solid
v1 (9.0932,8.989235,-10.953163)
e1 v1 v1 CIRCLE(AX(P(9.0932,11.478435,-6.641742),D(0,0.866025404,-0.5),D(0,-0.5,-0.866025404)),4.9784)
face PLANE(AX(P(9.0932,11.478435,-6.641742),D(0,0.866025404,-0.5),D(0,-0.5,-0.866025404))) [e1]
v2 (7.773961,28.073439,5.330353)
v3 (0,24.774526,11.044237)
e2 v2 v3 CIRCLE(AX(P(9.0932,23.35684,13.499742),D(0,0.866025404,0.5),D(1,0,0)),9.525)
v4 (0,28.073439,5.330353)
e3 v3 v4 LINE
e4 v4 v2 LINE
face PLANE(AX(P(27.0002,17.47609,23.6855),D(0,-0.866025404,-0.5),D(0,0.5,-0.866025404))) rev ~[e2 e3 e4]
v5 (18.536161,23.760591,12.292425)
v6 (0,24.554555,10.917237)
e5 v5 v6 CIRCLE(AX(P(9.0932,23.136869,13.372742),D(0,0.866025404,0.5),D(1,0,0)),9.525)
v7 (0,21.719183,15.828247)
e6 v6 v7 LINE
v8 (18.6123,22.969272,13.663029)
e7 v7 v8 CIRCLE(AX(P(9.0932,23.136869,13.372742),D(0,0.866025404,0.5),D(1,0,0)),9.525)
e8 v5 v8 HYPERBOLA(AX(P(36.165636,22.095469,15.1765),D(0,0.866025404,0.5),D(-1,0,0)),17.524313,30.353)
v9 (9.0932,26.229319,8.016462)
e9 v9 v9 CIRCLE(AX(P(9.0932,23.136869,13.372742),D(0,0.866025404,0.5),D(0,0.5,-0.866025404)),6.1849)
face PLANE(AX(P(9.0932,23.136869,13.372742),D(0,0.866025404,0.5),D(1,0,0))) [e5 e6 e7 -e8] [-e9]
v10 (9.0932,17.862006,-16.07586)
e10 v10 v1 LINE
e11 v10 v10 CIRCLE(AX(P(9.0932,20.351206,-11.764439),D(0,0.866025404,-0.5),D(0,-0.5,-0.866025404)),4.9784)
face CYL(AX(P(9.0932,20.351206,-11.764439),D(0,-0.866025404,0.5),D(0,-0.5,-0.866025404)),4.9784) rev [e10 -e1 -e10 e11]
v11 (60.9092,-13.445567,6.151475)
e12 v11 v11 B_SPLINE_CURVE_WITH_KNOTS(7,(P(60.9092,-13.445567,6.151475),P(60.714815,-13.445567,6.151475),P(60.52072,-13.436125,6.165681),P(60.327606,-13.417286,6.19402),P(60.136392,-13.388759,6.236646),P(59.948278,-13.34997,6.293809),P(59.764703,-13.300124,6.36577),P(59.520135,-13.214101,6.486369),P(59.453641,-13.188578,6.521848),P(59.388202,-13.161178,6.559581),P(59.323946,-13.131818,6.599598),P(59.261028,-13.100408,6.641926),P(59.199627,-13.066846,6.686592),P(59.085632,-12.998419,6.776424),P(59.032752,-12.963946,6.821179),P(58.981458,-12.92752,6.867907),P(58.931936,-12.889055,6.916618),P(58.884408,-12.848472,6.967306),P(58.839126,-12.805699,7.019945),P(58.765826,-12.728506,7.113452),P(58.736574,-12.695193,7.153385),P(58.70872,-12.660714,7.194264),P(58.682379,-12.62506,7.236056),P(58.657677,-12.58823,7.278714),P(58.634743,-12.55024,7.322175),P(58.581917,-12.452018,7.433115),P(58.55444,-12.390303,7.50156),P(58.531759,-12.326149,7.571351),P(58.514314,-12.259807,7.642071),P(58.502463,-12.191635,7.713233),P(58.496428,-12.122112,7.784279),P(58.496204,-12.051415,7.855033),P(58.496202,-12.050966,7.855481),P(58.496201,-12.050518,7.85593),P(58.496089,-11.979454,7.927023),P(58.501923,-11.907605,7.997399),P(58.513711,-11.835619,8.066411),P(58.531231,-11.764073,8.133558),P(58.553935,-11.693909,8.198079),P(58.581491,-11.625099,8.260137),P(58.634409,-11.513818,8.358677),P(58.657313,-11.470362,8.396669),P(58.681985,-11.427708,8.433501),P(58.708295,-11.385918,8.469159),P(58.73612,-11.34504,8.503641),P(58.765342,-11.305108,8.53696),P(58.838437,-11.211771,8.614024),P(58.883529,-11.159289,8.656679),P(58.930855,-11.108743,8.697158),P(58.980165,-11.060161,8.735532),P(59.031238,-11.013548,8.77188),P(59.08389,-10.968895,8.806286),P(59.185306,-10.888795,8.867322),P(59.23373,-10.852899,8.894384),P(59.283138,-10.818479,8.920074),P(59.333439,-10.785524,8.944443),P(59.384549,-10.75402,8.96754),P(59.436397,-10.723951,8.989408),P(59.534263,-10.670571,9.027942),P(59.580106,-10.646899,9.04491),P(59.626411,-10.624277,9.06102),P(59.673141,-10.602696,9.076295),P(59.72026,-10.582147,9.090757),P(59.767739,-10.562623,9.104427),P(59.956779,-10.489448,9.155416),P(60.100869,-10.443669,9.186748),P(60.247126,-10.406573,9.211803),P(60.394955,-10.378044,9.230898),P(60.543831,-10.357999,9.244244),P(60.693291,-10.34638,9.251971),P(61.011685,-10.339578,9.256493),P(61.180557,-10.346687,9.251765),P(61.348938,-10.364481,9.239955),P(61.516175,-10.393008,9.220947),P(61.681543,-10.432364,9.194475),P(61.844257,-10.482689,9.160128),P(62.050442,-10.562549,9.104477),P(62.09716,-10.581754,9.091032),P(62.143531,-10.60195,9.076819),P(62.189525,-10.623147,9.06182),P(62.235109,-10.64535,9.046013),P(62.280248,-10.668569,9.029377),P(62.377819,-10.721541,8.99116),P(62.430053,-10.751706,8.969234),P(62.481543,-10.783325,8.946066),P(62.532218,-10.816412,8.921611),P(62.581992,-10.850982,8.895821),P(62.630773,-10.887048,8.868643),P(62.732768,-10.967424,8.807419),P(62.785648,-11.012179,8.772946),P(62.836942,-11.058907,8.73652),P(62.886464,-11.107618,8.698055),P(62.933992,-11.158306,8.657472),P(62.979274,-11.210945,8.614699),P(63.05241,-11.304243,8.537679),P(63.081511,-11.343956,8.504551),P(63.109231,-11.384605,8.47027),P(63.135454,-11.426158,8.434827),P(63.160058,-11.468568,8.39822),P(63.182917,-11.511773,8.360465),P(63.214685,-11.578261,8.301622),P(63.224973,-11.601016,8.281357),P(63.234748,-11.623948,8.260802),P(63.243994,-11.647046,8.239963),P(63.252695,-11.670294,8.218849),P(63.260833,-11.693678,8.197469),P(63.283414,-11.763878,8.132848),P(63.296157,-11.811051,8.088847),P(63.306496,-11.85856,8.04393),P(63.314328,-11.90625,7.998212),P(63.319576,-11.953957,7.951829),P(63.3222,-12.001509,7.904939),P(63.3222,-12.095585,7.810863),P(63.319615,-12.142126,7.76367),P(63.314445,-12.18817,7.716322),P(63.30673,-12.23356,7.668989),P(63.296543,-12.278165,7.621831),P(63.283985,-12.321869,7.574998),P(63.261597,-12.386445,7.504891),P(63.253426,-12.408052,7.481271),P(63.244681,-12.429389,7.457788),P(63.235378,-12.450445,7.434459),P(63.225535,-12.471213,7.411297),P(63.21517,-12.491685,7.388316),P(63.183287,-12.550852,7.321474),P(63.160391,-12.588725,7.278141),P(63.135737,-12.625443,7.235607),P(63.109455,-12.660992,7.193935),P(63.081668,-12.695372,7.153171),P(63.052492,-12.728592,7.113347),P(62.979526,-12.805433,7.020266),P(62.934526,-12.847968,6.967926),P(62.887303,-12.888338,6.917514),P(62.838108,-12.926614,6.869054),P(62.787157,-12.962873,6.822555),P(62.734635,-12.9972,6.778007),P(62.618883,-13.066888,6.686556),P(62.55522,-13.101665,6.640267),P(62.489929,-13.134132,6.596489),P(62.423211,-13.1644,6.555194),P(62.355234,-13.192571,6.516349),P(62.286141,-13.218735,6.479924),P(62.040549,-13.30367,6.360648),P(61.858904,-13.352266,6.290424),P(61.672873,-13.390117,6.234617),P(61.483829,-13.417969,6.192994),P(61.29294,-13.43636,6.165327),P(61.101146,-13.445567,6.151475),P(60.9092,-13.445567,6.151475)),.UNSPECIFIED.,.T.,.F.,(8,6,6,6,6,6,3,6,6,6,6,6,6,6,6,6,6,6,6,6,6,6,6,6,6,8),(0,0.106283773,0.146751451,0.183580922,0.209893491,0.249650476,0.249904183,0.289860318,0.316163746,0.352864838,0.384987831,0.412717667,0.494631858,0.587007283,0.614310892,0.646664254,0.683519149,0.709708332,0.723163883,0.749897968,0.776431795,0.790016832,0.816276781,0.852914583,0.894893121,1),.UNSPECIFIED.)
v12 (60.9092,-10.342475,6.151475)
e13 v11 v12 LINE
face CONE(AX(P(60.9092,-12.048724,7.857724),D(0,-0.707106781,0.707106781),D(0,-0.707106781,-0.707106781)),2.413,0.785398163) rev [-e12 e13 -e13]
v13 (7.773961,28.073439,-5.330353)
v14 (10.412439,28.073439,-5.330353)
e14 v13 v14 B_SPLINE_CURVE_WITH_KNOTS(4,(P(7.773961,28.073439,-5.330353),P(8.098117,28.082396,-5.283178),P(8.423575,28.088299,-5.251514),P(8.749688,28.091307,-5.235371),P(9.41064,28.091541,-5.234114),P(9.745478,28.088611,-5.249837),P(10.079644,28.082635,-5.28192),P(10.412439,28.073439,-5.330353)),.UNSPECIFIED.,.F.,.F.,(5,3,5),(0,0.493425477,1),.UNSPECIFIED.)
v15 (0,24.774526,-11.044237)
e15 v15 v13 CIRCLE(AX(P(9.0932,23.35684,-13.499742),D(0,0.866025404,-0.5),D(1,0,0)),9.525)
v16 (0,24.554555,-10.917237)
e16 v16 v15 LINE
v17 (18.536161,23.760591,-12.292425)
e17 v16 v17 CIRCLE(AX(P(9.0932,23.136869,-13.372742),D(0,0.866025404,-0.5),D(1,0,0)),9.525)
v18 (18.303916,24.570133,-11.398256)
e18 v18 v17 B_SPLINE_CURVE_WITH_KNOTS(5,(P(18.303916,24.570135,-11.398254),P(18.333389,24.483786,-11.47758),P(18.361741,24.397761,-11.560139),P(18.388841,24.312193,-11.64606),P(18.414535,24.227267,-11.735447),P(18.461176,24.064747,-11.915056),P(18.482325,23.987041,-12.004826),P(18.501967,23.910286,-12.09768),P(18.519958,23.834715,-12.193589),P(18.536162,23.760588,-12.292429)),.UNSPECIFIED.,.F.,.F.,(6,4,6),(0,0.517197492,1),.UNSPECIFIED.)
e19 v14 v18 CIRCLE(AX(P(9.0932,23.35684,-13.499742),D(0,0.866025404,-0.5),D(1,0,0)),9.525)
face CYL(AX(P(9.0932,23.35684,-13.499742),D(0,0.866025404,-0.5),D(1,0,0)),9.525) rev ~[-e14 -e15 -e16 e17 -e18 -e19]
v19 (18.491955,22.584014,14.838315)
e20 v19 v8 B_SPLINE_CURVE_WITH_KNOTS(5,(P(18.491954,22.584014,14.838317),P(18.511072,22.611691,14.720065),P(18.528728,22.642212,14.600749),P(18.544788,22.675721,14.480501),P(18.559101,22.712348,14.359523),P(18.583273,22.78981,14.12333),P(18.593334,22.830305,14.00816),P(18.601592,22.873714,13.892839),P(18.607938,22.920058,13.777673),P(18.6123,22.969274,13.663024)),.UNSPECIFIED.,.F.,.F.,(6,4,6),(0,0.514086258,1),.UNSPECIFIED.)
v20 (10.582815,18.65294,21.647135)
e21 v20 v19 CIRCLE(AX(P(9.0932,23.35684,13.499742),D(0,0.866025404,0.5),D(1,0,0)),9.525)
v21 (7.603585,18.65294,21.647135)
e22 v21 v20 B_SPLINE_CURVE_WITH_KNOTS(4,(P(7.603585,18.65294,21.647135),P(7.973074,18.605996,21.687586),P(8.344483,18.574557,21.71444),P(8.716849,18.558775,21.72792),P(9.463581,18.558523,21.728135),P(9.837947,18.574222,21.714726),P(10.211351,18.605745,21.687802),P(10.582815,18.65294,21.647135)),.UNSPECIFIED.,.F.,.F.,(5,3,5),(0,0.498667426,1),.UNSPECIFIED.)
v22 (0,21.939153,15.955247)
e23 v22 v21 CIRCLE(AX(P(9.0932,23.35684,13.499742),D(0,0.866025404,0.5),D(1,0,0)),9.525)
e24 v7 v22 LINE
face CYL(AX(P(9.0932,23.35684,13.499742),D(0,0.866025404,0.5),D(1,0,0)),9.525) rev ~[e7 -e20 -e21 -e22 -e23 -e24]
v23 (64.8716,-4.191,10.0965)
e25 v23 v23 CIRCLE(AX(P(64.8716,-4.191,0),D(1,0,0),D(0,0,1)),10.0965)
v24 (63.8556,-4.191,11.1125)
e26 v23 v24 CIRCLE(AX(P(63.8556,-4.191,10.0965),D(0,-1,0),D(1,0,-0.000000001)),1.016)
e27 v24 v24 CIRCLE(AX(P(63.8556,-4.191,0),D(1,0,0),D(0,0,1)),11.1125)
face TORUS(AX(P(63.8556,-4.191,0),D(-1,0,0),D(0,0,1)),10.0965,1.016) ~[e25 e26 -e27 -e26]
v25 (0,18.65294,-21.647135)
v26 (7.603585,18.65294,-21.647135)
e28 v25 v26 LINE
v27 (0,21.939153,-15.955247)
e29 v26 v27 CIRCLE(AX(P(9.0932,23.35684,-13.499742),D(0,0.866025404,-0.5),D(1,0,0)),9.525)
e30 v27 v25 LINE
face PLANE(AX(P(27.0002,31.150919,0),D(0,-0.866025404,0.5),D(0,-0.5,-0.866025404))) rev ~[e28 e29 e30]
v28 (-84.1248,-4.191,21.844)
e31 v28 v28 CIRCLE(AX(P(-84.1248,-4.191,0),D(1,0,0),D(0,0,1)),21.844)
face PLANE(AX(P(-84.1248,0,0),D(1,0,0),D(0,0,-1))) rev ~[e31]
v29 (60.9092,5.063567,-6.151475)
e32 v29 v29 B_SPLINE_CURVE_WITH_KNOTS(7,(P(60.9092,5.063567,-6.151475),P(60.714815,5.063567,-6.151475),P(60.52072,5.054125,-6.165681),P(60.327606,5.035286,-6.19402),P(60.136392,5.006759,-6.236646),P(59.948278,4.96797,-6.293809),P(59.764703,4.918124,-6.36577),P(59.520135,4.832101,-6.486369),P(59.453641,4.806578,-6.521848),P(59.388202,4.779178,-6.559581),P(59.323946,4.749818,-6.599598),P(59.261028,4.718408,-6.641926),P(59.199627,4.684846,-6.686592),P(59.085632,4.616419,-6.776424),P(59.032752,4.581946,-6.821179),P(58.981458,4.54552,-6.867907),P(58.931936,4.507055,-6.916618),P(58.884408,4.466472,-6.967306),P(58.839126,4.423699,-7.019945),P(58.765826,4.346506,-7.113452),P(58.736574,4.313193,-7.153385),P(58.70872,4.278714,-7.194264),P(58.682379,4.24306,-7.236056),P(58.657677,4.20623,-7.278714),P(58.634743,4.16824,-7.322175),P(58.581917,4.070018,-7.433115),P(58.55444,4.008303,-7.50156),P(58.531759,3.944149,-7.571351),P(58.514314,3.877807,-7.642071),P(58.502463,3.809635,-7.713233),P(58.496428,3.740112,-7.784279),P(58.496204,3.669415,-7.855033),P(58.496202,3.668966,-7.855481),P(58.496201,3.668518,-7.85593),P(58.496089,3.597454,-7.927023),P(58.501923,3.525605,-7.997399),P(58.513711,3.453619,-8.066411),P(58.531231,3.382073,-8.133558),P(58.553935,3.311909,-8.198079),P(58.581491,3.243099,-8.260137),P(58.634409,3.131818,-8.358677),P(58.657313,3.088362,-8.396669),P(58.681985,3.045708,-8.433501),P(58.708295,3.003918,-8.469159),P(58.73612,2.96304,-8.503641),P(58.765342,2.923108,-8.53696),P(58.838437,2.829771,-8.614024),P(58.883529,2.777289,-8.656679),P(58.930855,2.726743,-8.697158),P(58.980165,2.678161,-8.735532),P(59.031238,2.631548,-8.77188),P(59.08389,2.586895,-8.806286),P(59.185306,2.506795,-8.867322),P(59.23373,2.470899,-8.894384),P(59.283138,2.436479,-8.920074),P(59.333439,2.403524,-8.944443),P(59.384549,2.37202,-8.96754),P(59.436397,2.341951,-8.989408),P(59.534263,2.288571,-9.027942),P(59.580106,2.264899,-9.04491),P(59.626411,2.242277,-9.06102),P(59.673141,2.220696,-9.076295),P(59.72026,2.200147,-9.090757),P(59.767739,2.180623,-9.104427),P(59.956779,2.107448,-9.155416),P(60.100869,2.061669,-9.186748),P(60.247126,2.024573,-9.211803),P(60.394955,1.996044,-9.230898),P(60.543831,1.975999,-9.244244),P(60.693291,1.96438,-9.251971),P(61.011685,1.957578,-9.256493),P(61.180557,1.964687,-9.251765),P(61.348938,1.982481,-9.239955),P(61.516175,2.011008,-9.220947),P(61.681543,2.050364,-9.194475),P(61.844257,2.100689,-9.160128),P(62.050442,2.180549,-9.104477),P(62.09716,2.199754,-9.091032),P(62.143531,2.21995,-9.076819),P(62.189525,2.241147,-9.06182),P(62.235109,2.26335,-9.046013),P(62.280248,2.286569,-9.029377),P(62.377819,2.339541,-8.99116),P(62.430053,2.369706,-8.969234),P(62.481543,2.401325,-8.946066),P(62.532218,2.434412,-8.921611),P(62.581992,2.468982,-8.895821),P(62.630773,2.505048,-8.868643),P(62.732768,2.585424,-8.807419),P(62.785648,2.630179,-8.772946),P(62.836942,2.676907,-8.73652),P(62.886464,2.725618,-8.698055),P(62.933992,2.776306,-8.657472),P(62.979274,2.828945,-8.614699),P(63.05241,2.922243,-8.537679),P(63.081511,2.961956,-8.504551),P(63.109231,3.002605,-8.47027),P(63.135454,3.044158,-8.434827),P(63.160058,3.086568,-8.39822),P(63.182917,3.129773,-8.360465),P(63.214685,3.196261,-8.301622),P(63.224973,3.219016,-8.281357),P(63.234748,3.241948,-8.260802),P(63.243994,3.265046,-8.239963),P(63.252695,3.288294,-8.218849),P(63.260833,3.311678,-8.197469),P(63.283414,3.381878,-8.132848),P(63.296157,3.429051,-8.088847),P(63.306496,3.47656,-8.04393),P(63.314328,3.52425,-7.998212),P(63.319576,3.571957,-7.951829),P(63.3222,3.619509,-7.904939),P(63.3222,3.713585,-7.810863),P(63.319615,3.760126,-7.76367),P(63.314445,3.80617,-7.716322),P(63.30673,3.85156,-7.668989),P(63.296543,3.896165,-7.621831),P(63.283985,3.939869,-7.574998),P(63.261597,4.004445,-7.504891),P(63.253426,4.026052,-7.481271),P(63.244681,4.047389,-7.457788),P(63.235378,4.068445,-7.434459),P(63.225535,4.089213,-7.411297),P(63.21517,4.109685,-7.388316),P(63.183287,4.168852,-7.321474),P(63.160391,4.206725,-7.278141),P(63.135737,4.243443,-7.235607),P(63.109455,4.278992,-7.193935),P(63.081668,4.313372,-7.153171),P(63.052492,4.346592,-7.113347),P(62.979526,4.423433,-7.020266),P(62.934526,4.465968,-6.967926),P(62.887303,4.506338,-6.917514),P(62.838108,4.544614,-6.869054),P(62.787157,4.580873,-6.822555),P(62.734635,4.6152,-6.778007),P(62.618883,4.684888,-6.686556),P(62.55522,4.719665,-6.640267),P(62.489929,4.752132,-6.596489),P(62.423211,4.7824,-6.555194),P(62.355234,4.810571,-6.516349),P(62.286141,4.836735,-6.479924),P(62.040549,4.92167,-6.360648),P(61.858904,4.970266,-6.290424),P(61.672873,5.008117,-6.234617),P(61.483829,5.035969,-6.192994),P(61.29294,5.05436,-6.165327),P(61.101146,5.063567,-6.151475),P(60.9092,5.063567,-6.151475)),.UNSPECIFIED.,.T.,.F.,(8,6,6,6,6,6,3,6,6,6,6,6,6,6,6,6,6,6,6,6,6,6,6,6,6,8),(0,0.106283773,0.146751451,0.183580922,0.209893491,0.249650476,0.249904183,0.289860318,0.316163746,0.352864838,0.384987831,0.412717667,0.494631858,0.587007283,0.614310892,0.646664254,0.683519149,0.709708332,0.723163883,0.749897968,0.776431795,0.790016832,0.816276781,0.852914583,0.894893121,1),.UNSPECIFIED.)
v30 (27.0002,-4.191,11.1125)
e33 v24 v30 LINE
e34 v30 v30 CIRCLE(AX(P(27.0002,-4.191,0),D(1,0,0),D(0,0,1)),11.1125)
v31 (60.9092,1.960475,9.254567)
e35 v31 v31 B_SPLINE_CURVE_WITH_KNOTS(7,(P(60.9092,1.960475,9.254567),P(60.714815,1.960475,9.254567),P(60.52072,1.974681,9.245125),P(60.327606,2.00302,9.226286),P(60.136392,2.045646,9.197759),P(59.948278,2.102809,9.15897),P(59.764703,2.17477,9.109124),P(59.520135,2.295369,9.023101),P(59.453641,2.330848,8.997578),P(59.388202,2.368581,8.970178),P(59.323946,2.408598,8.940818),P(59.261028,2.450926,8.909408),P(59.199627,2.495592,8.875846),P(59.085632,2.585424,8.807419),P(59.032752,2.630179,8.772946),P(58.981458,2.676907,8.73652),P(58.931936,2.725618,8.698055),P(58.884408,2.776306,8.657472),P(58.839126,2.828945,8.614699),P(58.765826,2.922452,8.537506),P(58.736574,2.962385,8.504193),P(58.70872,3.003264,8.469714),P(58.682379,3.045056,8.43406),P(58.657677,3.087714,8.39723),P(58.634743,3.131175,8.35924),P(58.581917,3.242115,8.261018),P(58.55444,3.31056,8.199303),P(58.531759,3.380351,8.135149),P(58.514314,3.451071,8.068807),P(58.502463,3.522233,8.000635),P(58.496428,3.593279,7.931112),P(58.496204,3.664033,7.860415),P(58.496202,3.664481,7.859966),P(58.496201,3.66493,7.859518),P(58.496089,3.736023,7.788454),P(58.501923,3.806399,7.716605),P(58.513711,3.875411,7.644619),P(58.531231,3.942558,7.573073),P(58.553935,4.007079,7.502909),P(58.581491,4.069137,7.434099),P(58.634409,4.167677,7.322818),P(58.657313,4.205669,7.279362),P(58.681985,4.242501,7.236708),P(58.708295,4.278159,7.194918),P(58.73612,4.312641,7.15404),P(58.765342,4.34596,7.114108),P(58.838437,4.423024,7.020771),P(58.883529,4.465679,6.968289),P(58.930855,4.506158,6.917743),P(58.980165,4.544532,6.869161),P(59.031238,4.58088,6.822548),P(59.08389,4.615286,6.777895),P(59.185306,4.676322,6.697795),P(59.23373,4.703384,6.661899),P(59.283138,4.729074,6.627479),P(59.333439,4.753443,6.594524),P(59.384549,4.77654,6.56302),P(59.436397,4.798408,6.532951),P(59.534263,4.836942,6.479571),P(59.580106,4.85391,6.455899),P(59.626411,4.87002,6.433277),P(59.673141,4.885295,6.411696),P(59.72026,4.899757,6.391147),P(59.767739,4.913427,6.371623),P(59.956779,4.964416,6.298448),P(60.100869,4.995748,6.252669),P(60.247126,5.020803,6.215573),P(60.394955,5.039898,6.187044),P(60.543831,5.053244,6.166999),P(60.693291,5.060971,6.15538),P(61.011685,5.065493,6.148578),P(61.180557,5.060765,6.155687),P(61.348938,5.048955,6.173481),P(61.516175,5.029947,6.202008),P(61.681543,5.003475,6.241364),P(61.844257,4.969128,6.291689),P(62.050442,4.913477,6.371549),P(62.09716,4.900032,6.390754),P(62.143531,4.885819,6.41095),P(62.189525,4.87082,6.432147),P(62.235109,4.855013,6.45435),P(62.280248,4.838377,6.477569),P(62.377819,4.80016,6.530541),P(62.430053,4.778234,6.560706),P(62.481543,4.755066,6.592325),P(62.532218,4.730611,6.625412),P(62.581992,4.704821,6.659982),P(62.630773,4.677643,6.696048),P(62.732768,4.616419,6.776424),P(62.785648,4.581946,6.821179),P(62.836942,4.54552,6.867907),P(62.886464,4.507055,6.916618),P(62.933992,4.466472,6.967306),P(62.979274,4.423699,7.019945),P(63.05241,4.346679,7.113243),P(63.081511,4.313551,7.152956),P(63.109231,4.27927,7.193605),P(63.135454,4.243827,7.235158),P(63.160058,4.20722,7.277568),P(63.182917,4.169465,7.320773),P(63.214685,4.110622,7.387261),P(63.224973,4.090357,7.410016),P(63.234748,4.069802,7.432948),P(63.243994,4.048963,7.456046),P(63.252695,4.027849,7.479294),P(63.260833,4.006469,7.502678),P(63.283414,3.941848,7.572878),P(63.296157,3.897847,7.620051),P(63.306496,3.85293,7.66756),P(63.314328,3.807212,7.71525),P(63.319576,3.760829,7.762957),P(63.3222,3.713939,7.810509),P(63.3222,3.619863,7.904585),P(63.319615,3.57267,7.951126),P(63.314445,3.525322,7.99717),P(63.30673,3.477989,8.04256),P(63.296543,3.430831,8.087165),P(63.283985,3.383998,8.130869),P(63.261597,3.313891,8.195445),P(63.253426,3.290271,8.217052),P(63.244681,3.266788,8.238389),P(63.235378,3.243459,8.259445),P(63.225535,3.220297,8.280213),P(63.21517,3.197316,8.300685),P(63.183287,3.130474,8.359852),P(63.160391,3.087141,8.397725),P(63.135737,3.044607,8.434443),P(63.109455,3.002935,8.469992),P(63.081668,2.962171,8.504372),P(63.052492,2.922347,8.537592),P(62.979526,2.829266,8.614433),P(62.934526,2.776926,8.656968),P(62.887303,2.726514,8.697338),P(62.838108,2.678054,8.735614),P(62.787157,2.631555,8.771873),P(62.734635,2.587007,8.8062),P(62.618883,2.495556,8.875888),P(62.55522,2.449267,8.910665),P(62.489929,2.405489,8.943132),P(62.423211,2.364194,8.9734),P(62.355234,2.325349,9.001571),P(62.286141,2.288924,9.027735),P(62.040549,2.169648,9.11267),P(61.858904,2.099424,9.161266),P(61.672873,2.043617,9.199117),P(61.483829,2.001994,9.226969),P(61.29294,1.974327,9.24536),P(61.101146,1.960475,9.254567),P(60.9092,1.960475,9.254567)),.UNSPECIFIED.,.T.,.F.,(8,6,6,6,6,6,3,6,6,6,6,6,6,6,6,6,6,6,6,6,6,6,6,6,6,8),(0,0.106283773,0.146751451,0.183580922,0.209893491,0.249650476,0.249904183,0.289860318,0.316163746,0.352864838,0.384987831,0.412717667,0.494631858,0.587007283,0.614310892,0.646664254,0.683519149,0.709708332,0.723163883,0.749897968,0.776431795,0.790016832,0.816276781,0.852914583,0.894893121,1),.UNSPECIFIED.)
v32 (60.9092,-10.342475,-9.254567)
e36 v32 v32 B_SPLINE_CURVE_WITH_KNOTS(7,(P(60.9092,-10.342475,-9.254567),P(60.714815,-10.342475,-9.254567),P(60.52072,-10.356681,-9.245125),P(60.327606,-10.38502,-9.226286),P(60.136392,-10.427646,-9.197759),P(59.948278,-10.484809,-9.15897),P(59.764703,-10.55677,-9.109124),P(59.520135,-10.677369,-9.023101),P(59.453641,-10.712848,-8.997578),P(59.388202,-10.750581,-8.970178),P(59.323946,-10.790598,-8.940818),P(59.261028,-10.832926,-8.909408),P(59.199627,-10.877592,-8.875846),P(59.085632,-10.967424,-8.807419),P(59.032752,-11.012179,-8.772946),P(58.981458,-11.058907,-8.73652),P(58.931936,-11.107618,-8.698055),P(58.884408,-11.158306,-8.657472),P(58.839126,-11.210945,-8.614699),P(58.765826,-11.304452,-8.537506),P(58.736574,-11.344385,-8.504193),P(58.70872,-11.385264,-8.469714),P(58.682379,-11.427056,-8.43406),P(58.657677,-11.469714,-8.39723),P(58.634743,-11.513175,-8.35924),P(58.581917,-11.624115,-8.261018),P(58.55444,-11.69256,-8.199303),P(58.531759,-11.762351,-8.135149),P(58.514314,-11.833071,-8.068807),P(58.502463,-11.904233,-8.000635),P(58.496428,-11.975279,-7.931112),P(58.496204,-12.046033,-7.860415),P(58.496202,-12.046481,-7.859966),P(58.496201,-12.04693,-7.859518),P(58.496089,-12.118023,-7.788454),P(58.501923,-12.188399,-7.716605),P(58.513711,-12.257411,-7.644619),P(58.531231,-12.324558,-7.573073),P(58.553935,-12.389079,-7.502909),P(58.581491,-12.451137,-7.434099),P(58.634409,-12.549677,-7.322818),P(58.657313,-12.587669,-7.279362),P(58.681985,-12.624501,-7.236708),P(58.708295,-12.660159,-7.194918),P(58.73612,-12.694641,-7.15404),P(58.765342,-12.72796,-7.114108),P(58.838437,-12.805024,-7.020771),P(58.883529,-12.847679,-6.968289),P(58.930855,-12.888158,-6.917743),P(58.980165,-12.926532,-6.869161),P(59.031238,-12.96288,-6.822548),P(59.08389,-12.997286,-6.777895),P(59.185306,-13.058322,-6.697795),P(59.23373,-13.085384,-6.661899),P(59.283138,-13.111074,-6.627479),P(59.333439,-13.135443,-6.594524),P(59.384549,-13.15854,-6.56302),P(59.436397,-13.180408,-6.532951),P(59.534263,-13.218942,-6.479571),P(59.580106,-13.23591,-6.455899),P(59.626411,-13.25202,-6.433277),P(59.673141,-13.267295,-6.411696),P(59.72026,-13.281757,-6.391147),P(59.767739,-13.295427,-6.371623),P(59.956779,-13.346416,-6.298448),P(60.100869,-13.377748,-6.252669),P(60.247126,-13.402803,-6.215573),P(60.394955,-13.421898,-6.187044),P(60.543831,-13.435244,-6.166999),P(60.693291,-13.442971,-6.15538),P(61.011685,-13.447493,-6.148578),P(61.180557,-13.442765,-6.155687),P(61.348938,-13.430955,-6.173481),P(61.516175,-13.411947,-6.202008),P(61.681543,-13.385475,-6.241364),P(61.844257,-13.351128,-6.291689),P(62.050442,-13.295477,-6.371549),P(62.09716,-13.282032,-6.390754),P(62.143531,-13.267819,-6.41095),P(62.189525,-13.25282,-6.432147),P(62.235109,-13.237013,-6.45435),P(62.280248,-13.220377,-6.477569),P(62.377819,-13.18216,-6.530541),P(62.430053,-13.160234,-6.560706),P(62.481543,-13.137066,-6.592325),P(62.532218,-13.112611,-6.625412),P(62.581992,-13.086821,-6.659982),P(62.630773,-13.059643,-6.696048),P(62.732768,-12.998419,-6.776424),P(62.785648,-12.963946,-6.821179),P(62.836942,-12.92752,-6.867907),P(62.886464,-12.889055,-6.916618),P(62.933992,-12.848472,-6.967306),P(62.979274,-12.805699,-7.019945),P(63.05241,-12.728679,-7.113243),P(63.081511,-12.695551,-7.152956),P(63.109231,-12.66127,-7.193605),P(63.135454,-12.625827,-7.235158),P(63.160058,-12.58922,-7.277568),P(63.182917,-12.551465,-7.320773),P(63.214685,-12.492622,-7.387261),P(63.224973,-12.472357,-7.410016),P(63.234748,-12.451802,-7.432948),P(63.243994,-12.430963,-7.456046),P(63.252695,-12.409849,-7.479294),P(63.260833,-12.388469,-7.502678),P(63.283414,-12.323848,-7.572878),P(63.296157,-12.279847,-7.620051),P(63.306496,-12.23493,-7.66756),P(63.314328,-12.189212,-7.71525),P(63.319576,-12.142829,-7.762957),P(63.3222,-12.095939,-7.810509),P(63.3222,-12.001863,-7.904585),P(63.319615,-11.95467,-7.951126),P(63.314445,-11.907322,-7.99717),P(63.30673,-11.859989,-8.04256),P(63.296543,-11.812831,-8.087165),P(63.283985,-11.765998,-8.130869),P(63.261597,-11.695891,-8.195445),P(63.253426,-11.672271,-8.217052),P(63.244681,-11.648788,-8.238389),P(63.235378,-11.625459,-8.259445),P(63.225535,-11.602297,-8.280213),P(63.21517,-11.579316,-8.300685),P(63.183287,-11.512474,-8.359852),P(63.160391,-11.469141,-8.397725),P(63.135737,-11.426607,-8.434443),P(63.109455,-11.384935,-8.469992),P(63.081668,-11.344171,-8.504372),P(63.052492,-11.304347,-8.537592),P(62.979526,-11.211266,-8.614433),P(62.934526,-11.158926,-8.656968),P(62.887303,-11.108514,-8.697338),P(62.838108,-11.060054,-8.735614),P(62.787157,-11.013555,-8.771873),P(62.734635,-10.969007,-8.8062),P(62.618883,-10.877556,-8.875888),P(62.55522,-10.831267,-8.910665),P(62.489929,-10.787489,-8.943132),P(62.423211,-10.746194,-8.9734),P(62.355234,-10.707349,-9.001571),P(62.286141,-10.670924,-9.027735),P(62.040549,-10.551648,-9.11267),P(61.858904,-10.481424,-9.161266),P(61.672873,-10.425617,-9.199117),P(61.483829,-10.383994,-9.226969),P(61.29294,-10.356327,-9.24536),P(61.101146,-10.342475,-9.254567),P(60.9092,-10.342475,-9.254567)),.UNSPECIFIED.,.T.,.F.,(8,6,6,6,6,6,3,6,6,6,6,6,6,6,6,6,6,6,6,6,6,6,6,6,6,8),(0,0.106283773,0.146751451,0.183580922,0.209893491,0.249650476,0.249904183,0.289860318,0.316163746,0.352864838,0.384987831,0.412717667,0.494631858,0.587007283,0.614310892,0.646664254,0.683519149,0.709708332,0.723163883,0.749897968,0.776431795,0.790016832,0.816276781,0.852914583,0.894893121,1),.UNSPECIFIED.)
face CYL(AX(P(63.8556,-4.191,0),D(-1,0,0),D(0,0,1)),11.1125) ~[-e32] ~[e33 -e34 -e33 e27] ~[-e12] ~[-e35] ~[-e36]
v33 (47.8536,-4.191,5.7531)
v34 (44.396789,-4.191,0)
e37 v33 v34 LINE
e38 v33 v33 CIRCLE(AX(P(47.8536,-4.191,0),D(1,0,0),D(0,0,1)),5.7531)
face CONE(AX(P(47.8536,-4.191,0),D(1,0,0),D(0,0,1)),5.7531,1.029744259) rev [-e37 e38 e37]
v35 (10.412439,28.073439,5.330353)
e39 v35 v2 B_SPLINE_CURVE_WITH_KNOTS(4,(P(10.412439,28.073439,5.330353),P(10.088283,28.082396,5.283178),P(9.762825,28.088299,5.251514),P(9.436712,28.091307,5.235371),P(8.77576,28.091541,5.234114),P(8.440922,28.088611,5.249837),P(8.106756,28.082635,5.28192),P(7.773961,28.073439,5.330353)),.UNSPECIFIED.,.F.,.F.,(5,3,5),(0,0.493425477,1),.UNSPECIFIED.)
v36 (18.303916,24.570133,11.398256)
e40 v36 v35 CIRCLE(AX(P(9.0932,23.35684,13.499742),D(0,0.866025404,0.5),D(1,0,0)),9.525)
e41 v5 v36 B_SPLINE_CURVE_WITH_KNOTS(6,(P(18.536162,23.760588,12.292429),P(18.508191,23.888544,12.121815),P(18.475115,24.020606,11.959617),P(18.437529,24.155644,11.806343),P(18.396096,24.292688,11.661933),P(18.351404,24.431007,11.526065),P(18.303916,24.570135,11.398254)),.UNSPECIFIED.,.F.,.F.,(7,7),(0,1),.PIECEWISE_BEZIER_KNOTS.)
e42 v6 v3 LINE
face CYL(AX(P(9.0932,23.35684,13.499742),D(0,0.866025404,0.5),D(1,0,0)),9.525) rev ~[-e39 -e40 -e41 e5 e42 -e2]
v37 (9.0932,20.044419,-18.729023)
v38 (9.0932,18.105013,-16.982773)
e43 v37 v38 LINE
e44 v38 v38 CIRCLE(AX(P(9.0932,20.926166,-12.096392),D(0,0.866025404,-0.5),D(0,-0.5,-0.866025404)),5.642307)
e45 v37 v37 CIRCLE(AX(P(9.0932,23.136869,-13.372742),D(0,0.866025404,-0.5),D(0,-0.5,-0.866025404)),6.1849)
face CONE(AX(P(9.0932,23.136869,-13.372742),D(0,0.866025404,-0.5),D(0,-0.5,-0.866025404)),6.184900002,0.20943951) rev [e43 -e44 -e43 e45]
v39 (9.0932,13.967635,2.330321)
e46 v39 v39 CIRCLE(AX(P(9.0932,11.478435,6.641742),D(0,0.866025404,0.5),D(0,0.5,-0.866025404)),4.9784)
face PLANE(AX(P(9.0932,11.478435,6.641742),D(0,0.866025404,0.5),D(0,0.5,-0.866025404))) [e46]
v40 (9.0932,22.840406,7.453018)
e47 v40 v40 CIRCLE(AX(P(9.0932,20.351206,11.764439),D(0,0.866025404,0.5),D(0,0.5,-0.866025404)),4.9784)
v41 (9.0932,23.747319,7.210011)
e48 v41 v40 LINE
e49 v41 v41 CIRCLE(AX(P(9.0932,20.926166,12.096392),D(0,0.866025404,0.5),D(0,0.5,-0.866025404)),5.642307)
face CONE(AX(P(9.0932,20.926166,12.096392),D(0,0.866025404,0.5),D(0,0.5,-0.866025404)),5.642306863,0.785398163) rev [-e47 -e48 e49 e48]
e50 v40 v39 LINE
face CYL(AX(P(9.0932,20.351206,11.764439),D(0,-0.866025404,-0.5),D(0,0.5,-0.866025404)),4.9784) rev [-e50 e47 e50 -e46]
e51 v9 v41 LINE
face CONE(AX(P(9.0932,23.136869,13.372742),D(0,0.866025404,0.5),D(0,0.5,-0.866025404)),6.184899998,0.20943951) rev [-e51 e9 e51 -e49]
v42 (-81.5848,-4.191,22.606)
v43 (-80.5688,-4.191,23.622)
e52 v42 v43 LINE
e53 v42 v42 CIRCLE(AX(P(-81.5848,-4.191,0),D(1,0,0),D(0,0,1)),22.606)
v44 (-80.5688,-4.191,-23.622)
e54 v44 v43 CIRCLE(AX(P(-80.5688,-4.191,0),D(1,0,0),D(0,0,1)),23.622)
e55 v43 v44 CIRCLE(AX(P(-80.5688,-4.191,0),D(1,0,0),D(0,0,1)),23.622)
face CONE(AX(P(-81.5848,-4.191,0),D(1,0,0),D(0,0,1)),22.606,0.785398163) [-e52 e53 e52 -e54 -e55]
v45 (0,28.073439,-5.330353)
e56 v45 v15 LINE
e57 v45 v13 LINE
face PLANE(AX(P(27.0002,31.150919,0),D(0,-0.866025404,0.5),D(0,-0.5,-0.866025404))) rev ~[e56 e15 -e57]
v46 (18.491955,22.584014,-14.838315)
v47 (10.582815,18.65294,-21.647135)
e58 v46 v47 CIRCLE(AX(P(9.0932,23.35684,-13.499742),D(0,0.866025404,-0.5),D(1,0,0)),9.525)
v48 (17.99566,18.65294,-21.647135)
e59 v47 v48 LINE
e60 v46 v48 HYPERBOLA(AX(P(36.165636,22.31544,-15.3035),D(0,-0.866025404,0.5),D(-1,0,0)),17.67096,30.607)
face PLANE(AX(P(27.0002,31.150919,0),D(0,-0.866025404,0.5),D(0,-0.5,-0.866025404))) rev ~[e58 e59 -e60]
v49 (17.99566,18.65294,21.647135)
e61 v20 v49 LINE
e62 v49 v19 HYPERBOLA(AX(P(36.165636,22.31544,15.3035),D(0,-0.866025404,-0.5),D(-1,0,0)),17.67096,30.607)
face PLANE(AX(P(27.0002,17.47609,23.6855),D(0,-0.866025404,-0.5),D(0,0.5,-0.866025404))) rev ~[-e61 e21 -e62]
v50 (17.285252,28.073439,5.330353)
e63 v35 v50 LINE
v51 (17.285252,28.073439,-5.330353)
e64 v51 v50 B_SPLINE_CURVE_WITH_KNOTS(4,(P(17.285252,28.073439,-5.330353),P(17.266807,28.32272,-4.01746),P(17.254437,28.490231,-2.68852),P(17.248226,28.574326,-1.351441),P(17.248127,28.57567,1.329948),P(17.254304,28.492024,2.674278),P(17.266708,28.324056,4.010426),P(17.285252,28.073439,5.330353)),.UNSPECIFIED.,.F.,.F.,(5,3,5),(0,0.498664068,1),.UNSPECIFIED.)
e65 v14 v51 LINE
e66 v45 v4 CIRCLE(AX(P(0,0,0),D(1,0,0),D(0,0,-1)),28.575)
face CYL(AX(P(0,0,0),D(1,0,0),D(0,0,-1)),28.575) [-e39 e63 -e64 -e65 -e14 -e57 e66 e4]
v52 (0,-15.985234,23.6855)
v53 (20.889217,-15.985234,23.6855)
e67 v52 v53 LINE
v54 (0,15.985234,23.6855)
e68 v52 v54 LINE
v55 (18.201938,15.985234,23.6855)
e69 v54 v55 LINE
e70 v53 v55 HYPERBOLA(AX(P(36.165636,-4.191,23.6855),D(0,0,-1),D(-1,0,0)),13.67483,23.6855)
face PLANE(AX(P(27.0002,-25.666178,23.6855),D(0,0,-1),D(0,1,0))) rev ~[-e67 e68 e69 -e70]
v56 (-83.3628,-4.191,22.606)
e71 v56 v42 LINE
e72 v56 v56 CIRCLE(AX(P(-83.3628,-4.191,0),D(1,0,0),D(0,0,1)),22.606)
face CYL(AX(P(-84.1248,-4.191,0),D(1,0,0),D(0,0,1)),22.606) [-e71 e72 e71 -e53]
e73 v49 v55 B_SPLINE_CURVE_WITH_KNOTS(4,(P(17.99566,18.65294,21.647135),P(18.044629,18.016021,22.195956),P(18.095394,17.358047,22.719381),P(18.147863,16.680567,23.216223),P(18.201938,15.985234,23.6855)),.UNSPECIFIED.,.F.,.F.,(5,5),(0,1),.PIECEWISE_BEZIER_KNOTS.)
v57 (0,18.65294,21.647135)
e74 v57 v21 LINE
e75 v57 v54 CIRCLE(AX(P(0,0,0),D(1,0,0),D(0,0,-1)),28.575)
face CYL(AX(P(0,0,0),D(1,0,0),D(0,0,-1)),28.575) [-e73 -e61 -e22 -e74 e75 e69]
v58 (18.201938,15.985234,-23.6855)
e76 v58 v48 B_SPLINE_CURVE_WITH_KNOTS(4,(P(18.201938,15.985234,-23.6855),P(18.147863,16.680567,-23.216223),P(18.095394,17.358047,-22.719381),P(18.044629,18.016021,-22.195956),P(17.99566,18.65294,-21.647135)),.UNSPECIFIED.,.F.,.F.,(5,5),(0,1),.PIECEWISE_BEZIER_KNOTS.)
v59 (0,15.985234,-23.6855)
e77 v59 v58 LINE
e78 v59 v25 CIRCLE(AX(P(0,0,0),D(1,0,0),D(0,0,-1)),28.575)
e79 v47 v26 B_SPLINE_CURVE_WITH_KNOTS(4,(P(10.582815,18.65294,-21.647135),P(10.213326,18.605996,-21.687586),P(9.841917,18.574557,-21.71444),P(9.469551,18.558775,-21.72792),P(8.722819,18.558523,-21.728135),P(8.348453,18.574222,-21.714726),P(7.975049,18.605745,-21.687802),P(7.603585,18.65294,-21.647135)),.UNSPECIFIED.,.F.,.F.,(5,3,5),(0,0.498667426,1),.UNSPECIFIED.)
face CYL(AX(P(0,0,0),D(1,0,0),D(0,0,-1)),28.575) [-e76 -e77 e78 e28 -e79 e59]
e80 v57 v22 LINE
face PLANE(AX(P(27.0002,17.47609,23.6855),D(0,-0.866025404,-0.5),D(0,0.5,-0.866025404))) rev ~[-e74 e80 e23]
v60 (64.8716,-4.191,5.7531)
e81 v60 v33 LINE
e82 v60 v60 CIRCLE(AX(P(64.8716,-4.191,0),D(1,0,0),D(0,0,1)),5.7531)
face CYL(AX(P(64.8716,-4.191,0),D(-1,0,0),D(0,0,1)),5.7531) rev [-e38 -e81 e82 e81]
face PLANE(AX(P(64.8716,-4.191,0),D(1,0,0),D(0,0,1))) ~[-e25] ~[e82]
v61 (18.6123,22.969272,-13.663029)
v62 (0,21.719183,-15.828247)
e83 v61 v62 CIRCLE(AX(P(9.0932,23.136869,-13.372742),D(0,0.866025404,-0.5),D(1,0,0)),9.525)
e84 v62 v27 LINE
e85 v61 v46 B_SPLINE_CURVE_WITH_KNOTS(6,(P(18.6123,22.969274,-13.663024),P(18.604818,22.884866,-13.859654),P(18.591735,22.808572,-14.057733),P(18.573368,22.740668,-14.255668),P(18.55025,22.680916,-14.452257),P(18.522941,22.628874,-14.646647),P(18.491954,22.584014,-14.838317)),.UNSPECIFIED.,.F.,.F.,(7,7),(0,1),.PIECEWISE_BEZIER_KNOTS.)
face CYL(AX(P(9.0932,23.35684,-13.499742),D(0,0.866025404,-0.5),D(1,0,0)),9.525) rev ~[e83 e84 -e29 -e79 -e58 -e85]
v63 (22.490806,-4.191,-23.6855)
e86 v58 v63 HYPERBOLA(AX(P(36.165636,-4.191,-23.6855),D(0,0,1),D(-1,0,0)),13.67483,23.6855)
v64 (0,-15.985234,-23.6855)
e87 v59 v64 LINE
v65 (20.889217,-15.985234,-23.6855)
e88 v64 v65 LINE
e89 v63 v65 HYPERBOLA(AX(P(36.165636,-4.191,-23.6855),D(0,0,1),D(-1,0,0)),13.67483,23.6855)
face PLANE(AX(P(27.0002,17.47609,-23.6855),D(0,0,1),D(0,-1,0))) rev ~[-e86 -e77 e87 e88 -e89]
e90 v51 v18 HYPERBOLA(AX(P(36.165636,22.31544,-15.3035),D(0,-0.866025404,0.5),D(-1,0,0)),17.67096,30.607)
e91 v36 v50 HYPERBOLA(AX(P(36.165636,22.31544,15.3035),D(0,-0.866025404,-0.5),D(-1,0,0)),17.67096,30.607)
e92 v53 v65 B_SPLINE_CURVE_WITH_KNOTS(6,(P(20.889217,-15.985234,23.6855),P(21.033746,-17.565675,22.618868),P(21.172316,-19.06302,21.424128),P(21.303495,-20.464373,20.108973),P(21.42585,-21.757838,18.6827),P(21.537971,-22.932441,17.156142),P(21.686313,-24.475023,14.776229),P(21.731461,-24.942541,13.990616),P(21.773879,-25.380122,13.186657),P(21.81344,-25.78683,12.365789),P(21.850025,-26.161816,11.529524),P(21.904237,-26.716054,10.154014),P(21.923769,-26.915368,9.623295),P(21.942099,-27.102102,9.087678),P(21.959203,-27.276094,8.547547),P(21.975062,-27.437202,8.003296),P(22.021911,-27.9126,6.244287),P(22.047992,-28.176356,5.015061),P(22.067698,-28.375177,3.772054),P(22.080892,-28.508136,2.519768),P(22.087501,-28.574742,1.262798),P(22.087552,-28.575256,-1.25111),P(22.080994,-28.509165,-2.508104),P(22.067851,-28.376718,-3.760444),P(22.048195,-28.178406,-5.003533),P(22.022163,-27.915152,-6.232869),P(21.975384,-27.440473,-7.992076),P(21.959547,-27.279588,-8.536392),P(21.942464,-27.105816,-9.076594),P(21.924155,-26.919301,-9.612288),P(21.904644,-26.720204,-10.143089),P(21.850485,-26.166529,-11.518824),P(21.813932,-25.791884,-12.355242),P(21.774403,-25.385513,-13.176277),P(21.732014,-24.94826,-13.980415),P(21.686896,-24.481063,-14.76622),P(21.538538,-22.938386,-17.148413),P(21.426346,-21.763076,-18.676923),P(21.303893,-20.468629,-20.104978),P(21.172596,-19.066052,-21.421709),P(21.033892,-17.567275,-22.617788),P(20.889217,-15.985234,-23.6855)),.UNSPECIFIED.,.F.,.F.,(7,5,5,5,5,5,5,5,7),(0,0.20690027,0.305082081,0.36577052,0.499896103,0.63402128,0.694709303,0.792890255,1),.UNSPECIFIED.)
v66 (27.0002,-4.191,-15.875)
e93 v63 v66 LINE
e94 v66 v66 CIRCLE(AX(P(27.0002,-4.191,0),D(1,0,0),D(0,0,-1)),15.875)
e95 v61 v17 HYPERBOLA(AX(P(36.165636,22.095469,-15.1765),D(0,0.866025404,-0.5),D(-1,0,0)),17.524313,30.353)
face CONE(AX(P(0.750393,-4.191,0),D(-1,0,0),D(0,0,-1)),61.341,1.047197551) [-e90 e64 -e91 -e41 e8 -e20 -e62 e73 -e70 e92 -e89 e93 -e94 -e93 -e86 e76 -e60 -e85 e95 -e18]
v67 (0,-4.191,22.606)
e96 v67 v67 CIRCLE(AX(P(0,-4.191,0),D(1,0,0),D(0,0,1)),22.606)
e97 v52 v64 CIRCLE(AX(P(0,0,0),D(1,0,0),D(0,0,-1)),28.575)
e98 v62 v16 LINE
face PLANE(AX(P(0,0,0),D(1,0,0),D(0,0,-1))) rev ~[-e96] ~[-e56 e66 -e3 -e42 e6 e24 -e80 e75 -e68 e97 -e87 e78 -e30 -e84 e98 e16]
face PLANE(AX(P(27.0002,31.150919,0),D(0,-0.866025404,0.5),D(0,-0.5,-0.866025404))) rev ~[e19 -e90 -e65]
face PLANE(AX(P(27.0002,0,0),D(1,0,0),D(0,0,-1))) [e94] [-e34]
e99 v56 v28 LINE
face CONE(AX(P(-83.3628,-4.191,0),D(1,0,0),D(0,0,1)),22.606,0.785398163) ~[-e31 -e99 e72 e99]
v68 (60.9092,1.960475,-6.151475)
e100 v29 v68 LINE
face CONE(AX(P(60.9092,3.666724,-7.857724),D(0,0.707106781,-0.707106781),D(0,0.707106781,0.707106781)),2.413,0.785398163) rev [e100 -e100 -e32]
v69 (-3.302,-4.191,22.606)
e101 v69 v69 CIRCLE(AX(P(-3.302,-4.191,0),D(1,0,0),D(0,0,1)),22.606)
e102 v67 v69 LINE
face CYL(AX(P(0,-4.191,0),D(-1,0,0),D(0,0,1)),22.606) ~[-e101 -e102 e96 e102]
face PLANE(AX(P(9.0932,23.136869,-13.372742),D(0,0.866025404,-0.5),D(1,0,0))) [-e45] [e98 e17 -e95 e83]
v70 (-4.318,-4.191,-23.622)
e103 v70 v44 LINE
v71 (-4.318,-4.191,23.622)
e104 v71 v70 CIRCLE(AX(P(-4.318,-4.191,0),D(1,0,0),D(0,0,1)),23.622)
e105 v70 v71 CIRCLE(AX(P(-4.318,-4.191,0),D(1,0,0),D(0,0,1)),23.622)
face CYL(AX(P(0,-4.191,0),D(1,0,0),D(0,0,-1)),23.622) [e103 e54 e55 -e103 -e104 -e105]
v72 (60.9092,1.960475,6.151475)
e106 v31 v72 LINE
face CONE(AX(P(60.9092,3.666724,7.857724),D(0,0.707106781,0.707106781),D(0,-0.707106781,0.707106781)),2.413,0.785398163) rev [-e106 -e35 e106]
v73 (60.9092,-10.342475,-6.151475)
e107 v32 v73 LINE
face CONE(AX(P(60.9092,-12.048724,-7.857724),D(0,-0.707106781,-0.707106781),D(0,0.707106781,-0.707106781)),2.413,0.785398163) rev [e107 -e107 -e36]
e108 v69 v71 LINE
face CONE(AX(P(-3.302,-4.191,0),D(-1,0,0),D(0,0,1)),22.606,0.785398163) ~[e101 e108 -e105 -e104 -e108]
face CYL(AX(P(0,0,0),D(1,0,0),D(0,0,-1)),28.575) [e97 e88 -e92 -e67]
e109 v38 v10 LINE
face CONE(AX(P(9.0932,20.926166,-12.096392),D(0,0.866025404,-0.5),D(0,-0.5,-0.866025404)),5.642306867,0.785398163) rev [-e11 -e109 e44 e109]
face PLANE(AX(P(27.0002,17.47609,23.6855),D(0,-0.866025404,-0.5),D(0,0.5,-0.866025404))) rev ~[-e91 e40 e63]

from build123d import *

# Parameters (mm, degrees)
SKETCH1_R           = 28.575
EXTRUDE1_DEPTH      = 27.0002
EXTRUDE1_DEPTH_BACK = 84.1248
CUT_EXTRUDE1_REACH  = 86.125
SKETCH2_R           = 28.575
SKETCH2_R_2         = 23.622
CUT_EXTRUDE3_START  = -27.0002
CUT_EXTRUDE3_DEPTH  = 27.0002
SKETCH18_R          = 9.525
CUT_EXTRUDE4_DEPTH  = 0.254
SKETCH19_R          = 9.525
CUT_EXTRUDE5_DEPTH  = 0.254
CHAMFER1_SIZE       = 0.762
CIRPATTERN1_COUNT   = 4


with BuildPart() as part:
    # Sketch1 → Extrude1 (new body, two sides)
    with BuildSketch(Plane(origin=(0, 0, 0), x_dir=(0, 0, -1), z_dir=(1, 0, 0))) as extrude1_sk:
        Circle(SKETCH1_R)
    extrude(amount=EXTRUDE1_DEPTH)
    extrude(extrude1_sk.sketch, amount=-EXTRUDE1_DEPTH_BACK)

    # Sketch2 → Cut-Extrude1 (cut, up to next)
    with BuildSketch(Plane(origin=(0, 0, 0), x_dir=(0, 0, -1), z_dir=(1, 0, 0)), mode=Mode.PRIVATE) as cut_extrude1_sk1:
        Circle(SKETCH2_R)
        with Locations((0, -4.191)):
            Circle(SKETCH2_R_2, mode=Mode.SUBTRACT)
    cut_extrude1_tool1 = extrude(cut_extrude1_sk1.sketch, amount=-CUT_EXTRUDE1_REACH, mode=Mode.PRIVATE) & part.part
    add(cut_extrude1_tool1.solids().sort_by_distance((0, 0, 27.766777))[0], mode=Mode.SUBTRACT)

    # Sketch4 → Cut-Extrude3 (cut)
    with BuildSketch(Plane.ZY.offset(CUT_EXTRUDE3_START)):
        with BuildLine():
            Line((23.6855, -25.666178421), (23.6855, 17.476089577))
            Line((23.6855, 17.476089577), (0, 31.150919378))
            Line((0, 31.150919378), (-23.6855, 17.476089577))
            Line((-23.6855, 17.476089577), (-23.6855, -25.666178421))
            ThreePointArc((-23.6855, -25.666178421), (0, 34.925), (23.6855, -25.666178421))
        make_face()
    extrude(amount=CUT_EXTRUDE3_DEPTH, mode=Mode.SUBTRACT)

    # Sketch6 → Cut-Revolve2 (revolve, cut)
    with BuildSketch(Plane.XY, mode=Mode.PRIVATE) as cut_revolve2_sk:
        Polygon((0.750392661, 57.15), (27.0002, 11.684), (27.0002, 57.15), align=None)
    revolve(cut_revolve2_sk.sketch.rotate(Axis((-0.562097706, -4.191, 0), (1, 0, 0)), 270), axis=Axis((-0.562097706, -4.191, 0), (1, 0, 0)), mode=Mode.SUBTRACT)  # turned: the seam where the file's is

    # S2D0002 → Cut-Revolve3 (revolve, cut)
    with BuildSketch(Plane(origin=(9.0932, 23.136869081, 13.372742289), x_dir=(0, 0.5, -0.866025404), z_dir=(1, 0, 0))):
        Polygon((0, 0), (6.1849, 0), (5.642306865, -2.5527), (4.9784, -3.216606865), (4.9784, -13.462), (0, -13.462), align=None)
    revolve(axis=Axis((9.0932, 10.895513396, 6.305192289), (0, 0.866025404, 0.5)), mode=Mode.SUBTRACT)

    # Sketch8 → Cut-Revolve4 (revolve, cut)
    with BuildSketch(Plane(origin=(9.0932, 23.136869081, -13.372742289), x_dir=(0, -0.5, -0.866025404), z_dir=(1, 0, 0))):
        Polygon((0, 0), (6.1849, 0), (5.642306865, -2.5527), (4.9784, -3.216606865), (4.9784, -13.462), (0, -13.462), align=None)
    revolve(axis=Axis((9.0932, 10.895513396, -6.305192289), (0, 0.866025404, -0.5)), mode=Mode.SUBTRACT)

    # Sketch18 → Cut-Extrude4 (cut)
    with BuildSketch(Plane(origin=(0, 23.363189534, 13.488743766), x_dir=(1, 0, 0), z_dir=(0, 0.866025404, 0.5))):
        with Locations((9.0932, -0.0127)):
            Circle(SKETCH18_R)
    extrude(amount=-CUT_EXTRUDE4_DEPTH, mode=Mode.SUBTRACT)

    # Sketch19 → Cut-Extrude5 (cut)
    with BuildSketch(Plane(origin=(0, 23.363189534, -13.488743766), x_dir=(1, 0, 0), z_dir=(0, 0.866025404, -0.5))):
        with Locations((9.0932, 0.0127)):
            Circle(SKETCH19_R)
    extrude(amount=-CUT_EXTRUDE5_DEPTH, mode=Mode.SUBTRACT)

    # Sketch10 → Cut-Revolve6 (revolve, cut)
    with BuildSketch(Plane.XY, mode=Mode.PRIVATE) as cut_revolve6_sk:
        Polygon((0, 19.431), (0, 18.415), (-3.302, 18.415), (-4.318, 19.431), align=None)
    revolve(cut_revolve6_sk.sketch.rotate(Axis((-4.5339, -4.191, 0), (1, 0, 0)), 90), axis=Axis((-4.5339, -4.191, 0), (1, 0, 0)), mode=Mode.SUBTRACT)  # turned: the seam where the file's is

    # Sketch12 → Cut-Revolve8 (revolve, cut)
    with BuildSketch(Plane.XY, mode=Mode.PRIVATE) as cut_revolve8_sk:
        Polygon((-84.1248, 19.431), (-84.1248, 18.415), (-81.5848, 18.415), (-80.5688, 19.431), align=None)
    revolve(cut_revolve8_sk.sketch.rotate(Axis((-84.3026, -4.191, 0), (1, 0, 0)), 90), axis=Axis((-84.3026, -4.191, 0), (1, 0, 0)), mode=Mode.SUBTRACT)  # turned: the seam where the file's is

    # Chamfer1
    chamfer1_edges = [part.edges().sort_by_distance(p)[0] for p in [
        (-84.1248, -4.191, -22.606),
    ]]
    chamfer(chamfer1_edges, length=CHAMFER1_SIZE)

    # Sketch13 → Revolve1 (revolve)
    with BuildSketch(Plane(origin=(0, 0, 0), x_dir=(0, -1, 0), z_dir=(0, 0, 1)), mode=Mode.PRIVATE) as revolve1_sk:
        with BuildLine():
            Line((4.191, 27.0002), (4.191, 64.8716))
            Line((4.191, 64.8716), (14.2875, 64.8716))
            ThreePointArc((14.2875, 64.8716), (15.00592049, 64.57402049), (15.3035, 63.8556))
            Line((15.3035, 63.8556), (15.3035, 27.0002))
            Line((15.3035, 27.0002), (4.191, 27.0002))
        make_face()
    revolve(revolve1_sk.sketch.rotate(Axis((25.10663, -4.191, 0), (1, 0, 0)), 270), axis=Axis((25.10663, -4.191, 0), (1, 0, 0)))  # turned: the seam where the file's is

    # S2D0001 → Cut-Revolve9 (revolve, cut)
    with BuildSketch(Plane(origin=(64.8716, -9.9441, 0), x_dir=(0, -1, 0), z_dir=(0, 0, 1)), mode=Mode.PRIVATE) as cut_revolve9_sk:
        Polygon((0, 0), (0, -17.018), (-5.7531, -20.474811227), (-5.7531, 0), align=None)
    revolve(cut_revolve9_sk.sketch.rotate(Axis((43.373048211, -4.191, 0), (1, 0, 0)), 270), axis=Axis((43.373048211, -4.191, 0), (1, 0, 0)), mode=Mode.SUBTRACT)  # turned: the seam where the file's is

    # Sketch16 → Cut-Revolve10 (revolve, cut)
    with BuildSketch(Plane(origin=(60.9092, 3.666724106, -7.857724106), x_dir=(-1, 0, 0), z_dir=(0, -0.707106781, -0.707106781)), mode=Mode.PRIVATE) as cut_revolve10_sk:
        Polygon((0, 0), (2.413, 0), (0, -2.413), align=None)
    cut_revolve10 = revolve(cut_revolve10_sk.sketch.rotate(Axis((60.9092, 0.494324135, -4.685324135), (0, 0.707106781, -0.707106781)), 90), axis=Axis((60.9092, 0.494324135, -4.685324135), (0, 0.707106781, -0.707106781)), mode=Mode.SUBTRACT)  # turned: the seam where the file's is

    # CirPattern1: Cut-Revolve10 ×4 about axis
    cirpattern1_axis = Axis((25.10663, -4.191, 0), (-1, 0, 0))
    for i in range(1, CIRPATTERN1_COUNT):
        add(cut_revolve10.rotate(cirpattern1_axis, i * 360 / CIRPATTERN1_COUNT), mode=Mode.SUBTRACT)


solid = part.part
